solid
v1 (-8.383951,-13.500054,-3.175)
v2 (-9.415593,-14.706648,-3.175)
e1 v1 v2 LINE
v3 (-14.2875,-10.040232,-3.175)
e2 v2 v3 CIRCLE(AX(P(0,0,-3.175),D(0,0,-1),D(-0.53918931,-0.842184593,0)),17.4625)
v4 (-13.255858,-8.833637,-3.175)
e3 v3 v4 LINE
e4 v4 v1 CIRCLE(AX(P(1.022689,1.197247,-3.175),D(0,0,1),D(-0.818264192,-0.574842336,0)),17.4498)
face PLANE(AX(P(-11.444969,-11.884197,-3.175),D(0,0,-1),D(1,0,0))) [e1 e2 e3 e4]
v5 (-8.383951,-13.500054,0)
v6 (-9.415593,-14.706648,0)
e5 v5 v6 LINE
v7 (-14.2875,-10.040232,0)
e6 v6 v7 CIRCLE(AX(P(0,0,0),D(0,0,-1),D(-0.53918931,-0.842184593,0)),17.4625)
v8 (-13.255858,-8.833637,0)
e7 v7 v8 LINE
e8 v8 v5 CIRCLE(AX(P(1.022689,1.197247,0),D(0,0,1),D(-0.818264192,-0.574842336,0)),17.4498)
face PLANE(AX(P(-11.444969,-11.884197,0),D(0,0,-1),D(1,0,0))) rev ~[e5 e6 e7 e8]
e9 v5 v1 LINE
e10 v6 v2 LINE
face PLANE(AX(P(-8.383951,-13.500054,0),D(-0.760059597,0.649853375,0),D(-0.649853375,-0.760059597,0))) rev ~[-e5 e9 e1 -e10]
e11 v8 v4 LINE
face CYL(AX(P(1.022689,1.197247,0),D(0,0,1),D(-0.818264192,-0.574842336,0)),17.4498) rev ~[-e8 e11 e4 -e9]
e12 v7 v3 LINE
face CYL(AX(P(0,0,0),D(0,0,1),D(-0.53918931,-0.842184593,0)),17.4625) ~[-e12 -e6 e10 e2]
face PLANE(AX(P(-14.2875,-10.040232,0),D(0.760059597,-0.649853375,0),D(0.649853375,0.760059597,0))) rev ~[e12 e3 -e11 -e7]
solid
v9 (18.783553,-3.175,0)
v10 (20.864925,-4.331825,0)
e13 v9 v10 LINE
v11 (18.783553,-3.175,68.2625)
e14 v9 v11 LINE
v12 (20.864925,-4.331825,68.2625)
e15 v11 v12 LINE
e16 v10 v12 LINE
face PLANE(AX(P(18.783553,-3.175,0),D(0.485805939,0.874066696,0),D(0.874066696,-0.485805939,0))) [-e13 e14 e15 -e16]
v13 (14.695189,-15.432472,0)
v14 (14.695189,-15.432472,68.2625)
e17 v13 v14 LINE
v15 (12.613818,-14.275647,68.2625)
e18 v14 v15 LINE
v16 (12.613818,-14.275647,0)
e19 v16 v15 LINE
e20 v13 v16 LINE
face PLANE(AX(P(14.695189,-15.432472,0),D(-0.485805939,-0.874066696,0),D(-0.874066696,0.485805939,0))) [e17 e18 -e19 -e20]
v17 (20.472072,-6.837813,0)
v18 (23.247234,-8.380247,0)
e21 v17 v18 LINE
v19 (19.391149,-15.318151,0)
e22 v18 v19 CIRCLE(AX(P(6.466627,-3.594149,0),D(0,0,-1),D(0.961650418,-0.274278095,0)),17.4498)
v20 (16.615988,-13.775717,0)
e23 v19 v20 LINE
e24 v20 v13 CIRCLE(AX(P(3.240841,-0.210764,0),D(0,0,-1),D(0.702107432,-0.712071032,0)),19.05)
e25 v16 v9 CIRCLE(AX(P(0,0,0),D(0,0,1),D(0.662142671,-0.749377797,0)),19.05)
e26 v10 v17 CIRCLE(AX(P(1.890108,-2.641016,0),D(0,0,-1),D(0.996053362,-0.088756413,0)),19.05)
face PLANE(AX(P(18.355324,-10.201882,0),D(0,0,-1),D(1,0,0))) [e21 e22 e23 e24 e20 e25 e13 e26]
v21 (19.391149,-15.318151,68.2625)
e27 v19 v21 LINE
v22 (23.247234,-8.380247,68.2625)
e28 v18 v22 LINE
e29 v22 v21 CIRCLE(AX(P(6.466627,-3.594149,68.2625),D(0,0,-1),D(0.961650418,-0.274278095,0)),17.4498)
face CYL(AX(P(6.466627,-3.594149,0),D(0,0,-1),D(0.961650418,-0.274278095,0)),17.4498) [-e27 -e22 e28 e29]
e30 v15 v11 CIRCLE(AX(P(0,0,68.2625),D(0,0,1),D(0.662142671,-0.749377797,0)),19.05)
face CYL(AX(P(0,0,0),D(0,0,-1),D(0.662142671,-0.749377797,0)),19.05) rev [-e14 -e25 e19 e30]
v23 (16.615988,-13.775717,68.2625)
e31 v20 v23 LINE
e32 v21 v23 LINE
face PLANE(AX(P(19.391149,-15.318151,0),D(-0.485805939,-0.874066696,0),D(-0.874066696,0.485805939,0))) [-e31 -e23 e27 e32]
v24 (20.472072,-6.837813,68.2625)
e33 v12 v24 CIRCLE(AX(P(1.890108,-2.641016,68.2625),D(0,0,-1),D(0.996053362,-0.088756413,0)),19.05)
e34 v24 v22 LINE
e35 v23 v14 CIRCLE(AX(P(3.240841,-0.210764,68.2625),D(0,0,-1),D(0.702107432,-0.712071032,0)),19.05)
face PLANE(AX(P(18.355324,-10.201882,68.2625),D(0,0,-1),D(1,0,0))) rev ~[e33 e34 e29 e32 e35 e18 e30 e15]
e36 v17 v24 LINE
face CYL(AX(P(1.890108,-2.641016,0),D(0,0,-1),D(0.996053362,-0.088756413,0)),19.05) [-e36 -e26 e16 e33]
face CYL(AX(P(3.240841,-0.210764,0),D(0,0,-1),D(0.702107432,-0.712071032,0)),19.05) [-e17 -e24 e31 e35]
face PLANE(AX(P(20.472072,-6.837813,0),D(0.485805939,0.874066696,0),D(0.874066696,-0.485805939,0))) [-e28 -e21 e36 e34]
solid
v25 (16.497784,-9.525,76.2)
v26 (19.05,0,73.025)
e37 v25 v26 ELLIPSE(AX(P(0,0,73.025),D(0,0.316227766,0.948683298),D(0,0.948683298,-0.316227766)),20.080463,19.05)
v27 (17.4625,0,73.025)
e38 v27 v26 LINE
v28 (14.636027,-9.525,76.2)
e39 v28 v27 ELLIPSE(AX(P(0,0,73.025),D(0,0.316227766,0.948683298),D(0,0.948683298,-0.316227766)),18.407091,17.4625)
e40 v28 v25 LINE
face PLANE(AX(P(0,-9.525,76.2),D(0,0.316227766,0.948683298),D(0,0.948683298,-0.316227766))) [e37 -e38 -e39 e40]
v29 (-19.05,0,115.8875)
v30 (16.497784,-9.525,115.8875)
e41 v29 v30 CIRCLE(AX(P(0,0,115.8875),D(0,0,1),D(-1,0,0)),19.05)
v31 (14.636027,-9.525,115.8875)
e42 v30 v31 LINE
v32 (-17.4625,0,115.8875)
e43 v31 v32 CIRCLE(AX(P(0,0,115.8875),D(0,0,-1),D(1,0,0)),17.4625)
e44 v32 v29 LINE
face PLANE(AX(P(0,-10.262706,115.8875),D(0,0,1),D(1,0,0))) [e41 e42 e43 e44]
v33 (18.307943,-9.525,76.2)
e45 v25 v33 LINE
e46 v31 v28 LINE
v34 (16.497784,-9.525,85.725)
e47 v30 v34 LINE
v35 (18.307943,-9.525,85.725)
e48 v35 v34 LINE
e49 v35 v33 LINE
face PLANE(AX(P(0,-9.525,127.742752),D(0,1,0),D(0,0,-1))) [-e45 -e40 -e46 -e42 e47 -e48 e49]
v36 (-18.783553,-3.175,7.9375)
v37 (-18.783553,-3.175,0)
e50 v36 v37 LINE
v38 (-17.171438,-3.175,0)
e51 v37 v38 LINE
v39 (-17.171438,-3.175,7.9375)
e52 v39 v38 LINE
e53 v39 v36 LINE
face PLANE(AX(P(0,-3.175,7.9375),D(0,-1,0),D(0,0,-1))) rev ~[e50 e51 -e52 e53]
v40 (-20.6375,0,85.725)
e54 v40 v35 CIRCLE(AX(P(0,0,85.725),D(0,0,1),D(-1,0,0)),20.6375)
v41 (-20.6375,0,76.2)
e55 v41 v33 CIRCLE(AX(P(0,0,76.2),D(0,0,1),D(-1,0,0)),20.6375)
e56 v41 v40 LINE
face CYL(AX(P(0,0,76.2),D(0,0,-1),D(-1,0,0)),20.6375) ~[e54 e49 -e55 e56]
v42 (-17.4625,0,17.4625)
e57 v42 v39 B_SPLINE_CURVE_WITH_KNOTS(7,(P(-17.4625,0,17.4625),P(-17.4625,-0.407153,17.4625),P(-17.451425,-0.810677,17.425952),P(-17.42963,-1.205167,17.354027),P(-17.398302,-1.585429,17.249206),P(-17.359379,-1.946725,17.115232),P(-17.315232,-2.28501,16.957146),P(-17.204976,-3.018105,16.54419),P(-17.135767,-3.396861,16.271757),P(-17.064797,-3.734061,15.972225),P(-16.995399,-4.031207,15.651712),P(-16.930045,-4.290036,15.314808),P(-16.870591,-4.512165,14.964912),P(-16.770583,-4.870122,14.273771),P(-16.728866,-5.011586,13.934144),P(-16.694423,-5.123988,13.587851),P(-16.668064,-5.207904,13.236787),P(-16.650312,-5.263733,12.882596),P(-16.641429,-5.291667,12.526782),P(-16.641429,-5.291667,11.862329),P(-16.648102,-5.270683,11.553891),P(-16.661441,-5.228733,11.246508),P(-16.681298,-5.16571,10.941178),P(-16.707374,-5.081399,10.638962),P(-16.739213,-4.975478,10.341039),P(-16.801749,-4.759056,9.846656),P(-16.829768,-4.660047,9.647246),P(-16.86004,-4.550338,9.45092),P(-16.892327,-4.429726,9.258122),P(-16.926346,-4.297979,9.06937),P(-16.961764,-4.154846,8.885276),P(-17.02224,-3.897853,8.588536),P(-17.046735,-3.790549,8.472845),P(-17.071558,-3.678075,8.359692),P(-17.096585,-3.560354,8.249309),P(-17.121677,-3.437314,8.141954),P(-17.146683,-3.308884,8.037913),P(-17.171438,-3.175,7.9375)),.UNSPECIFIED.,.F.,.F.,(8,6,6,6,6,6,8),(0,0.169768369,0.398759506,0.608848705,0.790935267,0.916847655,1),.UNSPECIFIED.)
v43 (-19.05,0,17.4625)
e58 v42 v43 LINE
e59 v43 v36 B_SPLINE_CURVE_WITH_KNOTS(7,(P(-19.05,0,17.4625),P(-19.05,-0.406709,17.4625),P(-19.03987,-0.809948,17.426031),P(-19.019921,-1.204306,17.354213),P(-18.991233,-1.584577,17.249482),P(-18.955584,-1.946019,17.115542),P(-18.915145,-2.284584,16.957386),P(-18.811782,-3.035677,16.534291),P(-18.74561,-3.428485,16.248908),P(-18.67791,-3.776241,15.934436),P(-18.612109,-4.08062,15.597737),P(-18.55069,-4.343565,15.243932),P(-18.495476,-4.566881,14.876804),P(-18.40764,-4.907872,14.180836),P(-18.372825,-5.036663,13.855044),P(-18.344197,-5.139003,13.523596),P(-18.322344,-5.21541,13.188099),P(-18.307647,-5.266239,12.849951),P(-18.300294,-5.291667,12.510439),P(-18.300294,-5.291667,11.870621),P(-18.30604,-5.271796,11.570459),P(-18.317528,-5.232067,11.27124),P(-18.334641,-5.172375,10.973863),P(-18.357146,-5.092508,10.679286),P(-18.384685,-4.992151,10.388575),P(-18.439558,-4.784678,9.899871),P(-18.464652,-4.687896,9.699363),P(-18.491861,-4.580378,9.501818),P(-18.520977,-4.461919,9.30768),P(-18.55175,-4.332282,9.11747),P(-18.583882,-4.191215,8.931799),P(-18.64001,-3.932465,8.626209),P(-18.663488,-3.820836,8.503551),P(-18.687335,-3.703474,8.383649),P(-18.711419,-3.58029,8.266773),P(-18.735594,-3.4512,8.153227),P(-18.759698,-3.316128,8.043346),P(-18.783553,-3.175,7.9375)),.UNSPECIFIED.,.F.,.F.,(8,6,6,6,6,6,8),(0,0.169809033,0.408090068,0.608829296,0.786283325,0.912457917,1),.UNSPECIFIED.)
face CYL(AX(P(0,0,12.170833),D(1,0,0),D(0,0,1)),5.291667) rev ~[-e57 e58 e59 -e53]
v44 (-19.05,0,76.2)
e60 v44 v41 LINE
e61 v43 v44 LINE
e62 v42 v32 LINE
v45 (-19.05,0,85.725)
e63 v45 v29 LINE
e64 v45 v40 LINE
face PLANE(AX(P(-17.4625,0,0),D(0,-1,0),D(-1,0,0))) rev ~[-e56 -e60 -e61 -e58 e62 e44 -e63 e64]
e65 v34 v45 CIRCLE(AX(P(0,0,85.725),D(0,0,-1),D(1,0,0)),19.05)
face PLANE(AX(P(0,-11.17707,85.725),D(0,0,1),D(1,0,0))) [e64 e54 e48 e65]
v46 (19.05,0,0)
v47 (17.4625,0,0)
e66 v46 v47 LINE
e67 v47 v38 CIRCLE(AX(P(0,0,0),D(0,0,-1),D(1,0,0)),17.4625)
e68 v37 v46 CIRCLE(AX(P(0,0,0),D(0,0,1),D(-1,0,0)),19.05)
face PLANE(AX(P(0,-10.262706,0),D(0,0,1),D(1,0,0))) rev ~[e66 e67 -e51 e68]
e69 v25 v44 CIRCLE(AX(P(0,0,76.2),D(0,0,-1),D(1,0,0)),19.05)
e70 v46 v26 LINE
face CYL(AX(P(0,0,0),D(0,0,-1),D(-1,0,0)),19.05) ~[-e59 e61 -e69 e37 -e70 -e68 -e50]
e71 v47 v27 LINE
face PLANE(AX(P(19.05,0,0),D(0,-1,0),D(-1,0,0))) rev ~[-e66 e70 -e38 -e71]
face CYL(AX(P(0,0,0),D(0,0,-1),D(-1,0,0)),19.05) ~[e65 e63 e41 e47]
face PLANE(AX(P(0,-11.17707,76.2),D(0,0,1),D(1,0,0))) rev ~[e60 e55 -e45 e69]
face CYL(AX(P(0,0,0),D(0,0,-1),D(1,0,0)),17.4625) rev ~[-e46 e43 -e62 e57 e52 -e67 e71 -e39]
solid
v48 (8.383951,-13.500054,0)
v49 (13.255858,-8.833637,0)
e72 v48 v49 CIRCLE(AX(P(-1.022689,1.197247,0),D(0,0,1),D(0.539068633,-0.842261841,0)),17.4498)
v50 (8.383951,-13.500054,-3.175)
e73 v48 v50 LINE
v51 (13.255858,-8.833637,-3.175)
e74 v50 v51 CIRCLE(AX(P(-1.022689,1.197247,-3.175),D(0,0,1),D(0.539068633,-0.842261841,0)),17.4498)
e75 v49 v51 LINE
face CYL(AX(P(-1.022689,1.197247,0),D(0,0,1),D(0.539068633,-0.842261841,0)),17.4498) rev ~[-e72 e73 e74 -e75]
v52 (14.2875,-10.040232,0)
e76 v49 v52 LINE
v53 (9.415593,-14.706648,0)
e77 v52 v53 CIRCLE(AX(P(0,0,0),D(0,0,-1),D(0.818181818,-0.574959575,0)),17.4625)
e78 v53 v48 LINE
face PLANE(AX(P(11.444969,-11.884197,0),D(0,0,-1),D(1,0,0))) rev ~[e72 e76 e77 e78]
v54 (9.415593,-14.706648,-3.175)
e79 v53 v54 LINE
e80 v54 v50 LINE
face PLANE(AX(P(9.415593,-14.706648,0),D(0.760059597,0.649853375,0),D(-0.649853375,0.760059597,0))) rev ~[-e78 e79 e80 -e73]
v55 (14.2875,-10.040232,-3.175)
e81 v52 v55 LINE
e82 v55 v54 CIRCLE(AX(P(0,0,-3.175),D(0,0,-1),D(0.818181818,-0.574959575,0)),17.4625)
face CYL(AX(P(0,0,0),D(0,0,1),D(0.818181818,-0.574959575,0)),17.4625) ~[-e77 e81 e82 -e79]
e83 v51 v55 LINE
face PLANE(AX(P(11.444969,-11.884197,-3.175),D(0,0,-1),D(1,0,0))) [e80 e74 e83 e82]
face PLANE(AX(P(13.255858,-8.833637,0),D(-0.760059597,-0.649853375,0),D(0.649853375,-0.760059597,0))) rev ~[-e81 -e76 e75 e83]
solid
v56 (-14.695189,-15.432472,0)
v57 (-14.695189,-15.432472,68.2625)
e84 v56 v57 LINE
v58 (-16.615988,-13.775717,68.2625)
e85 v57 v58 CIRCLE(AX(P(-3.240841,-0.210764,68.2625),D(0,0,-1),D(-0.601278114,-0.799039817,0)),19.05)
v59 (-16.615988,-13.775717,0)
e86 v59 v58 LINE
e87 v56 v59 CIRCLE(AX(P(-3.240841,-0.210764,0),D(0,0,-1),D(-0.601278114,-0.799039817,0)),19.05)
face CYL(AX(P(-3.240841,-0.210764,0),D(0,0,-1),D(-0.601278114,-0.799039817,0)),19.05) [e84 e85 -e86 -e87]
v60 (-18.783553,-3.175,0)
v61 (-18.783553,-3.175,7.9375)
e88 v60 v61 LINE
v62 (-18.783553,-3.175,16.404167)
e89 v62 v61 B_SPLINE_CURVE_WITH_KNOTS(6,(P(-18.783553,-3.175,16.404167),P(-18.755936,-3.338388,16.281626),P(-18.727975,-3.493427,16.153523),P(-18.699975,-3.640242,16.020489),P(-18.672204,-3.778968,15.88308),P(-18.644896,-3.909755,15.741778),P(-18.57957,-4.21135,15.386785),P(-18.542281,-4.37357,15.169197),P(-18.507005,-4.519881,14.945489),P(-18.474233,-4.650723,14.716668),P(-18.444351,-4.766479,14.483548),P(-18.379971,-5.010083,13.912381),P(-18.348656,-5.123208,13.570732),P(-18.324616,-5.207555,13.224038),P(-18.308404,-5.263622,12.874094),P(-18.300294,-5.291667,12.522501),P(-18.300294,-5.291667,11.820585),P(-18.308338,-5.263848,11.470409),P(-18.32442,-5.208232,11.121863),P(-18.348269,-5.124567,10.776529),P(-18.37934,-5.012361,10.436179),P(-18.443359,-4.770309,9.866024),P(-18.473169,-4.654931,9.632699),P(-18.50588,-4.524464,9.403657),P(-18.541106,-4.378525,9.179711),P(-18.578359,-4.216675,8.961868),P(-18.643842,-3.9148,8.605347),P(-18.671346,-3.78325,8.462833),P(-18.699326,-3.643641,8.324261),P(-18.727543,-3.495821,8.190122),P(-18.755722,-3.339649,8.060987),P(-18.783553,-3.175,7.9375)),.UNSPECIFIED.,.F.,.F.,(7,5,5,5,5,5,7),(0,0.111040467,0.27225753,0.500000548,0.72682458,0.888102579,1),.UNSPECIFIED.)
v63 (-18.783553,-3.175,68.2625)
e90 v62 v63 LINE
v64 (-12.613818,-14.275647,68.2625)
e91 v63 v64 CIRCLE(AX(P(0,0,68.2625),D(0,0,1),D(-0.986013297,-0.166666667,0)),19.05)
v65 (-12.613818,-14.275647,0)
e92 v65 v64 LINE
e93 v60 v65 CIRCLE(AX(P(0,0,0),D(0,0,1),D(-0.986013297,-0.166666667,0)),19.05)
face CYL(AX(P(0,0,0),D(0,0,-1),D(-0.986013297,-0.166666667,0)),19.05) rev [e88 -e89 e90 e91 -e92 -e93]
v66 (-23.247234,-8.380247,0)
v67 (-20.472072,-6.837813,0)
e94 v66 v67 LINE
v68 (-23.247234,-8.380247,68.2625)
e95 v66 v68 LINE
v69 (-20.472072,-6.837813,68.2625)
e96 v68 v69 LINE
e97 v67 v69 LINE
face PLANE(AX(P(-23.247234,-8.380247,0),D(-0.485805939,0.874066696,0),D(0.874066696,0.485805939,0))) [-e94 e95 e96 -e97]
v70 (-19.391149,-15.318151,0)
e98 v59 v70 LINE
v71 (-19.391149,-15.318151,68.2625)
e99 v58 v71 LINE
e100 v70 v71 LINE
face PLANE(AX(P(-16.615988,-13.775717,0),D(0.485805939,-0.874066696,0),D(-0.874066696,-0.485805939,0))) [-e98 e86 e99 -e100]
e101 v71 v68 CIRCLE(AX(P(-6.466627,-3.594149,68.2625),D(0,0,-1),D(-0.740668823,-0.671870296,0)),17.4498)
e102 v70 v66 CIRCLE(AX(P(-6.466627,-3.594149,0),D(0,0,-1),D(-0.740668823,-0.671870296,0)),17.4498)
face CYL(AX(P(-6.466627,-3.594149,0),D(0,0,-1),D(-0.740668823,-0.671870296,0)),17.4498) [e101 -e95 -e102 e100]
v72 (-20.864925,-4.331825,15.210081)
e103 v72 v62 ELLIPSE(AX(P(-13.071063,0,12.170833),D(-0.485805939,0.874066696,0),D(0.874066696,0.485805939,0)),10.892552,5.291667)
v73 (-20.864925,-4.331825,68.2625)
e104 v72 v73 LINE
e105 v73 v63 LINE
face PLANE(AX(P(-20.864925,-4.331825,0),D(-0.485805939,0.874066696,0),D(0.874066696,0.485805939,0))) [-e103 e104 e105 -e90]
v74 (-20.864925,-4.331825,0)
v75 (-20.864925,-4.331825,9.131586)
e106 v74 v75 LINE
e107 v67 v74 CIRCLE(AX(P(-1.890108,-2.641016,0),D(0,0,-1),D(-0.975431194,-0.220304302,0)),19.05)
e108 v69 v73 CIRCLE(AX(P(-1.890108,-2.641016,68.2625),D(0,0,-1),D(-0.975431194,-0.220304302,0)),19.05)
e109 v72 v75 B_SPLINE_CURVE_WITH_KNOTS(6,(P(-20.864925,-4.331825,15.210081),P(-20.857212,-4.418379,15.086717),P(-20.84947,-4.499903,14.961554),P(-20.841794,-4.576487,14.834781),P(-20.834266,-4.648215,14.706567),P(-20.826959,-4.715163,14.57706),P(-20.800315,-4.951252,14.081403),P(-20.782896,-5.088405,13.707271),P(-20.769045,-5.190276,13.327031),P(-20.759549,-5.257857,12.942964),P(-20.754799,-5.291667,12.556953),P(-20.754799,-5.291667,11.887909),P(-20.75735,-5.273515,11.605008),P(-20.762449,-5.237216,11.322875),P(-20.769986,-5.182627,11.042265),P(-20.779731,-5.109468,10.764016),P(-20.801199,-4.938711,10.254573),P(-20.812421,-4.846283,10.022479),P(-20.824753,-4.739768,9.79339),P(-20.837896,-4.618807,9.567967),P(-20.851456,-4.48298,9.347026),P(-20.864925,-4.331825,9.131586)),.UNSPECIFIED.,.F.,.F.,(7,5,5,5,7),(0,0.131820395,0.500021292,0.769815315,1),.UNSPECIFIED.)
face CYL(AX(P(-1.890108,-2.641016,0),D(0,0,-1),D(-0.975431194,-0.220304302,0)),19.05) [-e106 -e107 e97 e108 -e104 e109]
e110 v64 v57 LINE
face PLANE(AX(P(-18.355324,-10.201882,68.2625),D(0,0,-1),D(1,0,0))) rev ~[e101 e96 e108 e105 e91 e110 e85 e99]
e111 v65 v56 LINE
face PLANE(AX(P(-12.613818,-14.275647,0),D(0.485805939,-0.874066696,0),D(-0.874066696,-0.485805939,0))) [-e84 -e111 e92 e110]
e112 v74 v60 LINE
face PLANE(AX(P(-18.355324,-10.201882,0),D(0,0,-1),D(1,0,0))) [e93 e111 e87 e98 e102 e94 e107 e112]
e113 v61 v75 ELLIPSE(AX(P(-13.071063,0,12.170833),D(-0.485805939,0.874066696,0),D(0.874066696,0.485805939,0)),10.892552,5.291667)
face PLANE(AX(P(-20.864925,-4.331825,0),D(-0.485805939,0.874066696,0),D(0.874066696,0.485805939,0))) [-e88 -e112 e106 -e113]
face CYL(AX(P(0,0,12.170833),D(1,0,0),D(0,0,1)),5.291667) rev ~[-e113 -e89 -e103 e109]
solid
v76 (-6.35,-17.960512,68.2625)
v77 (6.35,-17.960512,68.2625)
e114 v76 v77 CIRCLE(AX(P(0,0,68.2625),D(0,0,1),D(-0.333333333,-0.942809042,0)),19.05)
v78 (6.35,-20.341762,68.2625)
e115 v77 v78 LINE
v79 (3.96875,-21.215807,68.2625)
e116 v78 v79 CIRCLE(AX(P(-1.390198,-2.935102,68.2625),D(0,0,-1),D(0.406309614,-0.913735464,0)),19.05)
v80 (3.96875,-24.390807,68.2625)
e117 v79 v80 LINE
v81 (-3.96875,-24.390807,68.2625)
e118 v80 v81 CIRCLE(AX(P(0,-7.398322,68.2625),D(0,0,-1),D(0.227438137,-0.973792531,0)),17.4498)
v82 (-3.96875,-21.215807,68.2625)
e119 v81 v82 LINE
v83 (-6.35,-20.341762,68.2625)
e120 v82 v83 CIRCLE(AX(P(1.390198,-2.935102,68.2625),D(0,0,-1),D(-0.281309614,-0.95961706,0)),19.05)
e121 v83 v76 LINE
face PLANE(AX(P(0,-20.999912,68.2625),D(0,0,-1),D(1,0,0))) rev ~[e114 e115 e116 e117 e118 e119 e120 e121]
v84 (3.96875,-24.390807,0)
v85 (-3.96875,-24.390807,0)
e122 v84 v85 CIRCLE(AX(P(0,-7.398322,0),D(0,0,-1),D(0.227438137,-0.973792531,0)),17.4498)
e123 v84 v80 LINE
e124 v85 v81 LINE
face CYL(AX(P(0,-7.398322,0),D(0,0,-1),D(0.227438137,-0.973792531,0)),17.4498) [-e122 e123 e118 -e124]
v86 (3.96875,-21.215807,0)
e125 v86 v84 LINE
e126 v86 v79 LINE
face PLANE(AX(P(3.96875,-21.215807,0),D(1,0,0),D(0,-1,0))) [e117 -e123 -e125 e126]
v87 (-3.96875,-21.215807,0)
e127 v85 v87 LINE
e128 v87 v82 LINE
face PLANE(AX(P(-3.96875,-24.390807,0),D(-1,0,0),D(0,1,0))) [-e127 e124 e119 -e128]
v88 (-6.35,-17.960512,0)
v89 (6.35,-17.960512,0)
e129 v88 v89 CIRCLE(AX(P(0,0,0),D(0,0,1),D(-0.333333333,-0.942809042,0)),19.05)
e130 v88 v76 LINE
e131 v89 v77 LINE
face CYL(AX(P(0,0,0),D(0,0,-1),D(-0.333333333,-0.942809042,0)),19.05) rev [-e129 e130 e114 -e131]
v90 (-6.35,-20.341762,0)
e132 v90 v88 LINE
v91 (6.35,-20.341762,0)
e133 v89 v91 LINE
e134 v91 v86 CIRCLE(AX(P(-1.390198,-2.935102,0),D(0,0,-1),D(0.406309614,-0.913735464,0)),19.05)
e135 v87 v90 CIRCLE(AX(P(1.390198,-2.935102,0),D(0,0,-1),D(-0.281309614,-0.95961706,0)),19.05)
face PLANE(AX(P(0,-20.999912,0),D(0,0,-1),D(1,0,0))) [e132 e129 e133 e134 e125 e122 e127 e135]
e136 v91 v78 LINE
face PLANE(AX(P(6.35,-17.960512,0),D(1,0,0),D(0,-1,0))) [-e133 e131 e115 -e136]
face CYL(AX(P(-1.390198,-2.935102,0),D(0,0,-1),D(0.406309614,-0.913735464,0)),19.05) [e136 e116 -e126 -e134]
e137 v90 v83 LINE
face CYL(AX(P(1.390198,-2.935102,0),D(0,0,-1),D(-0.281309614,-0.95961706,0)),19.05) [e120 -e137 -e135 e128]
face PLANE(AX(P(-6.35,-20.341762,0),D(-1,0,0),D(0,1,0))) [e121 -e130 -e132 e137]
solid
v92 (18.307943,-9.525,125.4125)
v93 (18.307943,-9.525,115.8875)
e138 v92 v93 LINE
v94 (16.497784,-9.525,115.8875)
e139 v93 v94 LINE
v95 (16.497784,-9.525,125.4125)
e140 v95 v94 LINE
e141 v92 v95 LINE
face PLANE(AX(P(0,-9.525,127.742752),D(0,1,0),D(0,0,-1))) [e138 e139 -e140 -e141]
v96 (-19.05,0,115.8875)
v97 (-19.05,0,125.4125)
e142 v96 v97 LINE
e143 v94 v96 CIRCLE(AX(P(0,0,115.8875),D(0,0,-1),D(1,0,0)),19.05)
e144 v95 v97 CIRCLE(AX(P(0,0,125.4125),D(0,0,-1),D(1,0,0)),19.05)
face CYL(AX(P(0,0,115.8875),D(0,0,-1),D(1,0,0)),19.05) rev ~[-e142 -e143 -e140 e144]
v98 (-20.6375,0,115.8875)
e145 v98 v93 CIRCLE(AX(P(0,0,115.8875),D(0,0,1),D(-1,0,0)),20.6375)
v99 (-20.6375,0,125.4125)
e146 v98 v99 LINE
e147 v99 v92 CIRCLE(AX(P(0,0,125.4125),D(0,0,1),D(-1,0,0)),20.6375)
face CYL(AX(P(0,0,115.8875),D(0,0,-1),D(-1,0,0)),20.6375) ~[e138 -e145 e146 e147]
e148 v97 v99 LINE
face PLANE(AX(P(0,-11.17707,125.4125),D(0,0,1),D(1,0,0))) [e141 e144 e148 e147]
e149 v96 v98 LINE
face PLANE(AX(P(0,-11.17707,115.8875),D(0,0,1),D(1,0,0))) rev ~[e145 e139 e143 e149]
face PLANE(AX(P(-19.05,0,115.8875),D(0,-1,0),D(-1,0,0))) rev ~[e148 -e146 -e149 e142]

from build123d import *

# Parameters (mm, degrees)
F1_DEPTH  = 115.8875
F3_DEPTH  = 3.175
F4_DEPTH  = 68.2625
F6_DEPTH  = 9.525
F9_DEPTH  = 9.525
F11_DEPTH = 25.4
F13_DEPTH = 25.4


with BuildPart() as f1:
    # F0 (on Top) → F1 (new body)
    with BuildSketch(Plane.XY):
        with BuildLine():
            Line((-17.4625, 0), (-19.05, 0))
            ThreePointArc((-19.05, 0), (0, -19.05), (19.05, 0))
            Line((19.05, 0), (17.4625, 0))
            ThreePointArc((17.4625, 0), (0, -17.4625), (-17.4625, 0))
        make_face()
    extrude(amount=F1_DEPTH)

    # F8 (on offset) → F9 (join)
    with BuildSketch(Plane.XY.offset(76.2)):
        with BuildLine():
            Line((20.6375, 0), (19.05, 0))
            ThreePointArc((19.05, 0), (0, -19.05), (-19.05, 0))
            Line((-19.05, 0), (-20.6375, 0))
            ThreePointArc((-20.6375, 0), (0, -20.6375), (20.6375, 0))
        make_face()
    extrude(amount=F9_DEPTH)


with BuildPart() as f3:
    # F2 (on face) → F3 (new body)
    with BuildSketch(Plane(origin=(0, 0, 0), x_dir=(1, 0, 0), z_dir=(0, 0, -1))):
        with BuildLine():
            Line((-8.3839510943, 13.500053837), (-9.4155933276, 14.7066484469))
            ThreePointArc((-9.4155933276, 14.7066484469), (-12.0790322435, 12.6109431174), (-14.2875, 10.040231571))
            Line((-14.2875, 10.040231571), (-13.2558577667, 8.8336369612))
            ThreePointArc((-13.2558577667, 8.8336369612), (-11.0475587561, 11.4045246845), (-8.3839510943, 13.500053837))
        make_face()
    extrude(amount=F3_DEPTH)


with BuildPart() as f3b:
    # F2 (on face) → F3, piece 2 (new body)
    with BuildSketch(Plane(origin=(0, 0, 0), x_dir=(1, 0, 0), z_dir=(0, 0, -1))):
        with BuildLine():
            Line((13.2558577667, 8.8336369612), (14.2875, 10.040231571))
            ThreePointArc((14.2875, 10.040231571), (12.0790322435, 12.6109431174), (9.4155933276, 14.7066484469))
            Line((9.4155933276, 14.7066484469), (8.3839510943, 13.500053837))
            ThreePointArc((8.3839510943, 13.500053837), (11.0475587561, 11.4045246845), (13.2558577667, 8.8336369612))
        make_face()
    extrude(amount=F3_DEPTH)


with BuildPart() as f4:
    # F2 (on face) → F4 (new body)
    with BuildSketch(Plane(origin=(0, 0, 0), x_dir=(1, 0, 0), z_dir=(0, 0, -1))):
        with BuildLine():
            ThreePointArc((-6.35, 17.9605122421), (0, 19.05), (6.35, 17.9605122421))
            Line((6.35, 17.9605122421), (6.35, 20.3417622421))
            ThreePointArc((6.35, 20.3417622421), (5.1739390249, 20.8184627298), (3.96875, 21.215806644))
            Line((3.96875, 21.215806644), (3.96875, 24.390806644))
            ThreePointArc((3.96875, 24.390806644), (0, 24.8481217322), (-3.96875, 24.390806644))
            Line((-3.96875, 24.390806644), (-3.96875, 21.215806644))
            ThreePointArc((-3.96875, 21.215806644), (-5.1739390249, 20.8184627298), (-6.35, 20.3417622421))
            Line((-6.35, 20.3417622421), (-6.35, 17.9605122421))
        make_face()
    extrude(amount=-F4_DEPTH)


with BuildPart() as f4b:
    # F2 (on face) → F4, piece 2 (new body)
    with BuildSketch(Plane(origin=(0, 0, 0), x_dir=(1, 0, 0), z_dir=(0, 0, -1))):
        with BuildLine():
            Line((-20.8649246315, 4.331825393), (-18.7835533113, 3.175))
            ThreePointArc((-18.7835533113, 3.175), (-16.6509705616, 9.2546031441), (-12.6138178819, 14.2756470411))
            Line((-12.6138178819, 14.2756470411), (-14.6951892021, 15.4324724341))
            ThreePointArc((-14.6951892021, 15.4324724341), (-15.6831946291, 14.6361006314), (-16.6159876978, 13.7757170756))
            Line((-16.6159876978, 13.7757170756), (-19.3911494581, 15.3181509329))
            ThreePointArc((-19.3911494581, 15.3181509329), (-21.718915668, 12.0713651186), (-23.2472341015, 8.3802465323))
            Line((-23.2472341015, 8.3802465323), (-20.4720723412, 6.8378126749))
            ThreePointArc((-20.4720723412, 6.8378126749), (-20.7102552452, 5.5913650521), (-20.8649246315, 4.331825393))
        make_face()
    extrude(amount=-F4_DEPTH)


with BuildPart() as f4c:
    # F2 (on face) → F4, piece 3 (new body)
    with BuildSketch(Plane(origin=(0, 0, 0), x_dir=(1, 0, 0), z_dir=(0, 0, -1))):
        with BuildLine():
            ThreePointArc((12.6138178819, 14.2756470411), (16.6509705616, 9.2546031441), (18.7835533113, 3.175))
            Line((18.7835533113, 3.175), (20.8649246315, 4.331825393))
            ThreePointArc((20.8649246315, 4.331825393), (20.7102552452, 5.5913650521), (20.4720723412, 6.8378126749))
            Line((20.4720723412, 6.8378126749), (23.2472341015, 8.3802465323))
            ThreePointArc((23.2472341015, 8.3802465323), (21.718915668, 12.0713651186), (19.3911494581, 15.3181509329))
            Line((19.3911494581, 15.3181509329), (16.6159876978, 13.7757170756))
            ThreePointArc((16.6159876978, 13.7757170756), (15.6831946291, 14.6361006314), (14.6951892021, 15.4324724341))
            Line((14.6951892021, 15.4324724341), (12.6138178819, 14.2756470411))
        make_face()
    extrude(amount=-F4_DEPTH)


with BuildPart() as f6:
    # F5 (on face) → F6 (new body)
    with BuildSketch(Plane.XY.offset(115.8875)):
        with BuildLine():
            Line((20.6375, 0), (19.05, 0))
            ThreePointArc((19.05, 0), (0, -19.05), (-19.05, 0))
            Line((-19.05, 0), (-20.6375, 0))
            ThreePointArc((-20.6375, 0), (0, -20.6375), (20.6375, 0))
        make_face()
    extrude(amount=F6_DEPTH)


with BuildPart() as f11_tool:
    # F10 (on Right) → F11 (new body)
    with BuildSketch(Plane.YZ):
        Polygon((-9.525, 127.7427524328), (-9.525, 76.2), (0, 73.025), (0, 127.7427524328), align=None)
    extrude(amount=F11_DEPTH)


with BuildPart() as f1_1:
    add(f1.part)

    # F11: cut by f11_tool
    add(f11_tool.part, mode=Mode.SUBTRACT)


with BuildPart() as f6_1:
    add(f6.part)

    # F11: cut by f11_tool
    add(f11_tool.part, mode=Mode.SUBTRACT)


with BuildPart() as f13_tool:
    # F12 (on Right) → F13 (new body)
    with BuildSketch(Plane.YZ):
        with BuildLine():
            Line((0, 0), (0, 17.4625))
            ThreePointArc((0, 17.4625), (-5.0201157855, 13.8442052618), (-3.175, 7.9375))
            Line((-3.175, 7.9375), (-3.175, 0))
            Line((-3.175, 0), (0, 0))
        make_face()
        Polygon((1.9351648681, 17.4625), (0, 17.4625), (0, 0), (-3.175, 0), (-3.175, -0.7119281217), (1.9351648681, -0.7119281217), align=None)
    extrude(amount=-F13_DEPTH)


with BuildPart() as f1_2:
    add(f1_1.part)

    # F13: cut by f13_tool
    add(f13_tool.part, mode=Mode.SUBTRACT)


with BuildPart() as f4b_1:
    add(f4b.part)

    # F13: cut by f13_tool
    add(f13_tool.part, mode=Mode.SUBTRACT)


solid = Compound([f3.part, f3b.part, f4.part, f4c.part, f6_1.part, f1_2.part, f4b_1.part])
